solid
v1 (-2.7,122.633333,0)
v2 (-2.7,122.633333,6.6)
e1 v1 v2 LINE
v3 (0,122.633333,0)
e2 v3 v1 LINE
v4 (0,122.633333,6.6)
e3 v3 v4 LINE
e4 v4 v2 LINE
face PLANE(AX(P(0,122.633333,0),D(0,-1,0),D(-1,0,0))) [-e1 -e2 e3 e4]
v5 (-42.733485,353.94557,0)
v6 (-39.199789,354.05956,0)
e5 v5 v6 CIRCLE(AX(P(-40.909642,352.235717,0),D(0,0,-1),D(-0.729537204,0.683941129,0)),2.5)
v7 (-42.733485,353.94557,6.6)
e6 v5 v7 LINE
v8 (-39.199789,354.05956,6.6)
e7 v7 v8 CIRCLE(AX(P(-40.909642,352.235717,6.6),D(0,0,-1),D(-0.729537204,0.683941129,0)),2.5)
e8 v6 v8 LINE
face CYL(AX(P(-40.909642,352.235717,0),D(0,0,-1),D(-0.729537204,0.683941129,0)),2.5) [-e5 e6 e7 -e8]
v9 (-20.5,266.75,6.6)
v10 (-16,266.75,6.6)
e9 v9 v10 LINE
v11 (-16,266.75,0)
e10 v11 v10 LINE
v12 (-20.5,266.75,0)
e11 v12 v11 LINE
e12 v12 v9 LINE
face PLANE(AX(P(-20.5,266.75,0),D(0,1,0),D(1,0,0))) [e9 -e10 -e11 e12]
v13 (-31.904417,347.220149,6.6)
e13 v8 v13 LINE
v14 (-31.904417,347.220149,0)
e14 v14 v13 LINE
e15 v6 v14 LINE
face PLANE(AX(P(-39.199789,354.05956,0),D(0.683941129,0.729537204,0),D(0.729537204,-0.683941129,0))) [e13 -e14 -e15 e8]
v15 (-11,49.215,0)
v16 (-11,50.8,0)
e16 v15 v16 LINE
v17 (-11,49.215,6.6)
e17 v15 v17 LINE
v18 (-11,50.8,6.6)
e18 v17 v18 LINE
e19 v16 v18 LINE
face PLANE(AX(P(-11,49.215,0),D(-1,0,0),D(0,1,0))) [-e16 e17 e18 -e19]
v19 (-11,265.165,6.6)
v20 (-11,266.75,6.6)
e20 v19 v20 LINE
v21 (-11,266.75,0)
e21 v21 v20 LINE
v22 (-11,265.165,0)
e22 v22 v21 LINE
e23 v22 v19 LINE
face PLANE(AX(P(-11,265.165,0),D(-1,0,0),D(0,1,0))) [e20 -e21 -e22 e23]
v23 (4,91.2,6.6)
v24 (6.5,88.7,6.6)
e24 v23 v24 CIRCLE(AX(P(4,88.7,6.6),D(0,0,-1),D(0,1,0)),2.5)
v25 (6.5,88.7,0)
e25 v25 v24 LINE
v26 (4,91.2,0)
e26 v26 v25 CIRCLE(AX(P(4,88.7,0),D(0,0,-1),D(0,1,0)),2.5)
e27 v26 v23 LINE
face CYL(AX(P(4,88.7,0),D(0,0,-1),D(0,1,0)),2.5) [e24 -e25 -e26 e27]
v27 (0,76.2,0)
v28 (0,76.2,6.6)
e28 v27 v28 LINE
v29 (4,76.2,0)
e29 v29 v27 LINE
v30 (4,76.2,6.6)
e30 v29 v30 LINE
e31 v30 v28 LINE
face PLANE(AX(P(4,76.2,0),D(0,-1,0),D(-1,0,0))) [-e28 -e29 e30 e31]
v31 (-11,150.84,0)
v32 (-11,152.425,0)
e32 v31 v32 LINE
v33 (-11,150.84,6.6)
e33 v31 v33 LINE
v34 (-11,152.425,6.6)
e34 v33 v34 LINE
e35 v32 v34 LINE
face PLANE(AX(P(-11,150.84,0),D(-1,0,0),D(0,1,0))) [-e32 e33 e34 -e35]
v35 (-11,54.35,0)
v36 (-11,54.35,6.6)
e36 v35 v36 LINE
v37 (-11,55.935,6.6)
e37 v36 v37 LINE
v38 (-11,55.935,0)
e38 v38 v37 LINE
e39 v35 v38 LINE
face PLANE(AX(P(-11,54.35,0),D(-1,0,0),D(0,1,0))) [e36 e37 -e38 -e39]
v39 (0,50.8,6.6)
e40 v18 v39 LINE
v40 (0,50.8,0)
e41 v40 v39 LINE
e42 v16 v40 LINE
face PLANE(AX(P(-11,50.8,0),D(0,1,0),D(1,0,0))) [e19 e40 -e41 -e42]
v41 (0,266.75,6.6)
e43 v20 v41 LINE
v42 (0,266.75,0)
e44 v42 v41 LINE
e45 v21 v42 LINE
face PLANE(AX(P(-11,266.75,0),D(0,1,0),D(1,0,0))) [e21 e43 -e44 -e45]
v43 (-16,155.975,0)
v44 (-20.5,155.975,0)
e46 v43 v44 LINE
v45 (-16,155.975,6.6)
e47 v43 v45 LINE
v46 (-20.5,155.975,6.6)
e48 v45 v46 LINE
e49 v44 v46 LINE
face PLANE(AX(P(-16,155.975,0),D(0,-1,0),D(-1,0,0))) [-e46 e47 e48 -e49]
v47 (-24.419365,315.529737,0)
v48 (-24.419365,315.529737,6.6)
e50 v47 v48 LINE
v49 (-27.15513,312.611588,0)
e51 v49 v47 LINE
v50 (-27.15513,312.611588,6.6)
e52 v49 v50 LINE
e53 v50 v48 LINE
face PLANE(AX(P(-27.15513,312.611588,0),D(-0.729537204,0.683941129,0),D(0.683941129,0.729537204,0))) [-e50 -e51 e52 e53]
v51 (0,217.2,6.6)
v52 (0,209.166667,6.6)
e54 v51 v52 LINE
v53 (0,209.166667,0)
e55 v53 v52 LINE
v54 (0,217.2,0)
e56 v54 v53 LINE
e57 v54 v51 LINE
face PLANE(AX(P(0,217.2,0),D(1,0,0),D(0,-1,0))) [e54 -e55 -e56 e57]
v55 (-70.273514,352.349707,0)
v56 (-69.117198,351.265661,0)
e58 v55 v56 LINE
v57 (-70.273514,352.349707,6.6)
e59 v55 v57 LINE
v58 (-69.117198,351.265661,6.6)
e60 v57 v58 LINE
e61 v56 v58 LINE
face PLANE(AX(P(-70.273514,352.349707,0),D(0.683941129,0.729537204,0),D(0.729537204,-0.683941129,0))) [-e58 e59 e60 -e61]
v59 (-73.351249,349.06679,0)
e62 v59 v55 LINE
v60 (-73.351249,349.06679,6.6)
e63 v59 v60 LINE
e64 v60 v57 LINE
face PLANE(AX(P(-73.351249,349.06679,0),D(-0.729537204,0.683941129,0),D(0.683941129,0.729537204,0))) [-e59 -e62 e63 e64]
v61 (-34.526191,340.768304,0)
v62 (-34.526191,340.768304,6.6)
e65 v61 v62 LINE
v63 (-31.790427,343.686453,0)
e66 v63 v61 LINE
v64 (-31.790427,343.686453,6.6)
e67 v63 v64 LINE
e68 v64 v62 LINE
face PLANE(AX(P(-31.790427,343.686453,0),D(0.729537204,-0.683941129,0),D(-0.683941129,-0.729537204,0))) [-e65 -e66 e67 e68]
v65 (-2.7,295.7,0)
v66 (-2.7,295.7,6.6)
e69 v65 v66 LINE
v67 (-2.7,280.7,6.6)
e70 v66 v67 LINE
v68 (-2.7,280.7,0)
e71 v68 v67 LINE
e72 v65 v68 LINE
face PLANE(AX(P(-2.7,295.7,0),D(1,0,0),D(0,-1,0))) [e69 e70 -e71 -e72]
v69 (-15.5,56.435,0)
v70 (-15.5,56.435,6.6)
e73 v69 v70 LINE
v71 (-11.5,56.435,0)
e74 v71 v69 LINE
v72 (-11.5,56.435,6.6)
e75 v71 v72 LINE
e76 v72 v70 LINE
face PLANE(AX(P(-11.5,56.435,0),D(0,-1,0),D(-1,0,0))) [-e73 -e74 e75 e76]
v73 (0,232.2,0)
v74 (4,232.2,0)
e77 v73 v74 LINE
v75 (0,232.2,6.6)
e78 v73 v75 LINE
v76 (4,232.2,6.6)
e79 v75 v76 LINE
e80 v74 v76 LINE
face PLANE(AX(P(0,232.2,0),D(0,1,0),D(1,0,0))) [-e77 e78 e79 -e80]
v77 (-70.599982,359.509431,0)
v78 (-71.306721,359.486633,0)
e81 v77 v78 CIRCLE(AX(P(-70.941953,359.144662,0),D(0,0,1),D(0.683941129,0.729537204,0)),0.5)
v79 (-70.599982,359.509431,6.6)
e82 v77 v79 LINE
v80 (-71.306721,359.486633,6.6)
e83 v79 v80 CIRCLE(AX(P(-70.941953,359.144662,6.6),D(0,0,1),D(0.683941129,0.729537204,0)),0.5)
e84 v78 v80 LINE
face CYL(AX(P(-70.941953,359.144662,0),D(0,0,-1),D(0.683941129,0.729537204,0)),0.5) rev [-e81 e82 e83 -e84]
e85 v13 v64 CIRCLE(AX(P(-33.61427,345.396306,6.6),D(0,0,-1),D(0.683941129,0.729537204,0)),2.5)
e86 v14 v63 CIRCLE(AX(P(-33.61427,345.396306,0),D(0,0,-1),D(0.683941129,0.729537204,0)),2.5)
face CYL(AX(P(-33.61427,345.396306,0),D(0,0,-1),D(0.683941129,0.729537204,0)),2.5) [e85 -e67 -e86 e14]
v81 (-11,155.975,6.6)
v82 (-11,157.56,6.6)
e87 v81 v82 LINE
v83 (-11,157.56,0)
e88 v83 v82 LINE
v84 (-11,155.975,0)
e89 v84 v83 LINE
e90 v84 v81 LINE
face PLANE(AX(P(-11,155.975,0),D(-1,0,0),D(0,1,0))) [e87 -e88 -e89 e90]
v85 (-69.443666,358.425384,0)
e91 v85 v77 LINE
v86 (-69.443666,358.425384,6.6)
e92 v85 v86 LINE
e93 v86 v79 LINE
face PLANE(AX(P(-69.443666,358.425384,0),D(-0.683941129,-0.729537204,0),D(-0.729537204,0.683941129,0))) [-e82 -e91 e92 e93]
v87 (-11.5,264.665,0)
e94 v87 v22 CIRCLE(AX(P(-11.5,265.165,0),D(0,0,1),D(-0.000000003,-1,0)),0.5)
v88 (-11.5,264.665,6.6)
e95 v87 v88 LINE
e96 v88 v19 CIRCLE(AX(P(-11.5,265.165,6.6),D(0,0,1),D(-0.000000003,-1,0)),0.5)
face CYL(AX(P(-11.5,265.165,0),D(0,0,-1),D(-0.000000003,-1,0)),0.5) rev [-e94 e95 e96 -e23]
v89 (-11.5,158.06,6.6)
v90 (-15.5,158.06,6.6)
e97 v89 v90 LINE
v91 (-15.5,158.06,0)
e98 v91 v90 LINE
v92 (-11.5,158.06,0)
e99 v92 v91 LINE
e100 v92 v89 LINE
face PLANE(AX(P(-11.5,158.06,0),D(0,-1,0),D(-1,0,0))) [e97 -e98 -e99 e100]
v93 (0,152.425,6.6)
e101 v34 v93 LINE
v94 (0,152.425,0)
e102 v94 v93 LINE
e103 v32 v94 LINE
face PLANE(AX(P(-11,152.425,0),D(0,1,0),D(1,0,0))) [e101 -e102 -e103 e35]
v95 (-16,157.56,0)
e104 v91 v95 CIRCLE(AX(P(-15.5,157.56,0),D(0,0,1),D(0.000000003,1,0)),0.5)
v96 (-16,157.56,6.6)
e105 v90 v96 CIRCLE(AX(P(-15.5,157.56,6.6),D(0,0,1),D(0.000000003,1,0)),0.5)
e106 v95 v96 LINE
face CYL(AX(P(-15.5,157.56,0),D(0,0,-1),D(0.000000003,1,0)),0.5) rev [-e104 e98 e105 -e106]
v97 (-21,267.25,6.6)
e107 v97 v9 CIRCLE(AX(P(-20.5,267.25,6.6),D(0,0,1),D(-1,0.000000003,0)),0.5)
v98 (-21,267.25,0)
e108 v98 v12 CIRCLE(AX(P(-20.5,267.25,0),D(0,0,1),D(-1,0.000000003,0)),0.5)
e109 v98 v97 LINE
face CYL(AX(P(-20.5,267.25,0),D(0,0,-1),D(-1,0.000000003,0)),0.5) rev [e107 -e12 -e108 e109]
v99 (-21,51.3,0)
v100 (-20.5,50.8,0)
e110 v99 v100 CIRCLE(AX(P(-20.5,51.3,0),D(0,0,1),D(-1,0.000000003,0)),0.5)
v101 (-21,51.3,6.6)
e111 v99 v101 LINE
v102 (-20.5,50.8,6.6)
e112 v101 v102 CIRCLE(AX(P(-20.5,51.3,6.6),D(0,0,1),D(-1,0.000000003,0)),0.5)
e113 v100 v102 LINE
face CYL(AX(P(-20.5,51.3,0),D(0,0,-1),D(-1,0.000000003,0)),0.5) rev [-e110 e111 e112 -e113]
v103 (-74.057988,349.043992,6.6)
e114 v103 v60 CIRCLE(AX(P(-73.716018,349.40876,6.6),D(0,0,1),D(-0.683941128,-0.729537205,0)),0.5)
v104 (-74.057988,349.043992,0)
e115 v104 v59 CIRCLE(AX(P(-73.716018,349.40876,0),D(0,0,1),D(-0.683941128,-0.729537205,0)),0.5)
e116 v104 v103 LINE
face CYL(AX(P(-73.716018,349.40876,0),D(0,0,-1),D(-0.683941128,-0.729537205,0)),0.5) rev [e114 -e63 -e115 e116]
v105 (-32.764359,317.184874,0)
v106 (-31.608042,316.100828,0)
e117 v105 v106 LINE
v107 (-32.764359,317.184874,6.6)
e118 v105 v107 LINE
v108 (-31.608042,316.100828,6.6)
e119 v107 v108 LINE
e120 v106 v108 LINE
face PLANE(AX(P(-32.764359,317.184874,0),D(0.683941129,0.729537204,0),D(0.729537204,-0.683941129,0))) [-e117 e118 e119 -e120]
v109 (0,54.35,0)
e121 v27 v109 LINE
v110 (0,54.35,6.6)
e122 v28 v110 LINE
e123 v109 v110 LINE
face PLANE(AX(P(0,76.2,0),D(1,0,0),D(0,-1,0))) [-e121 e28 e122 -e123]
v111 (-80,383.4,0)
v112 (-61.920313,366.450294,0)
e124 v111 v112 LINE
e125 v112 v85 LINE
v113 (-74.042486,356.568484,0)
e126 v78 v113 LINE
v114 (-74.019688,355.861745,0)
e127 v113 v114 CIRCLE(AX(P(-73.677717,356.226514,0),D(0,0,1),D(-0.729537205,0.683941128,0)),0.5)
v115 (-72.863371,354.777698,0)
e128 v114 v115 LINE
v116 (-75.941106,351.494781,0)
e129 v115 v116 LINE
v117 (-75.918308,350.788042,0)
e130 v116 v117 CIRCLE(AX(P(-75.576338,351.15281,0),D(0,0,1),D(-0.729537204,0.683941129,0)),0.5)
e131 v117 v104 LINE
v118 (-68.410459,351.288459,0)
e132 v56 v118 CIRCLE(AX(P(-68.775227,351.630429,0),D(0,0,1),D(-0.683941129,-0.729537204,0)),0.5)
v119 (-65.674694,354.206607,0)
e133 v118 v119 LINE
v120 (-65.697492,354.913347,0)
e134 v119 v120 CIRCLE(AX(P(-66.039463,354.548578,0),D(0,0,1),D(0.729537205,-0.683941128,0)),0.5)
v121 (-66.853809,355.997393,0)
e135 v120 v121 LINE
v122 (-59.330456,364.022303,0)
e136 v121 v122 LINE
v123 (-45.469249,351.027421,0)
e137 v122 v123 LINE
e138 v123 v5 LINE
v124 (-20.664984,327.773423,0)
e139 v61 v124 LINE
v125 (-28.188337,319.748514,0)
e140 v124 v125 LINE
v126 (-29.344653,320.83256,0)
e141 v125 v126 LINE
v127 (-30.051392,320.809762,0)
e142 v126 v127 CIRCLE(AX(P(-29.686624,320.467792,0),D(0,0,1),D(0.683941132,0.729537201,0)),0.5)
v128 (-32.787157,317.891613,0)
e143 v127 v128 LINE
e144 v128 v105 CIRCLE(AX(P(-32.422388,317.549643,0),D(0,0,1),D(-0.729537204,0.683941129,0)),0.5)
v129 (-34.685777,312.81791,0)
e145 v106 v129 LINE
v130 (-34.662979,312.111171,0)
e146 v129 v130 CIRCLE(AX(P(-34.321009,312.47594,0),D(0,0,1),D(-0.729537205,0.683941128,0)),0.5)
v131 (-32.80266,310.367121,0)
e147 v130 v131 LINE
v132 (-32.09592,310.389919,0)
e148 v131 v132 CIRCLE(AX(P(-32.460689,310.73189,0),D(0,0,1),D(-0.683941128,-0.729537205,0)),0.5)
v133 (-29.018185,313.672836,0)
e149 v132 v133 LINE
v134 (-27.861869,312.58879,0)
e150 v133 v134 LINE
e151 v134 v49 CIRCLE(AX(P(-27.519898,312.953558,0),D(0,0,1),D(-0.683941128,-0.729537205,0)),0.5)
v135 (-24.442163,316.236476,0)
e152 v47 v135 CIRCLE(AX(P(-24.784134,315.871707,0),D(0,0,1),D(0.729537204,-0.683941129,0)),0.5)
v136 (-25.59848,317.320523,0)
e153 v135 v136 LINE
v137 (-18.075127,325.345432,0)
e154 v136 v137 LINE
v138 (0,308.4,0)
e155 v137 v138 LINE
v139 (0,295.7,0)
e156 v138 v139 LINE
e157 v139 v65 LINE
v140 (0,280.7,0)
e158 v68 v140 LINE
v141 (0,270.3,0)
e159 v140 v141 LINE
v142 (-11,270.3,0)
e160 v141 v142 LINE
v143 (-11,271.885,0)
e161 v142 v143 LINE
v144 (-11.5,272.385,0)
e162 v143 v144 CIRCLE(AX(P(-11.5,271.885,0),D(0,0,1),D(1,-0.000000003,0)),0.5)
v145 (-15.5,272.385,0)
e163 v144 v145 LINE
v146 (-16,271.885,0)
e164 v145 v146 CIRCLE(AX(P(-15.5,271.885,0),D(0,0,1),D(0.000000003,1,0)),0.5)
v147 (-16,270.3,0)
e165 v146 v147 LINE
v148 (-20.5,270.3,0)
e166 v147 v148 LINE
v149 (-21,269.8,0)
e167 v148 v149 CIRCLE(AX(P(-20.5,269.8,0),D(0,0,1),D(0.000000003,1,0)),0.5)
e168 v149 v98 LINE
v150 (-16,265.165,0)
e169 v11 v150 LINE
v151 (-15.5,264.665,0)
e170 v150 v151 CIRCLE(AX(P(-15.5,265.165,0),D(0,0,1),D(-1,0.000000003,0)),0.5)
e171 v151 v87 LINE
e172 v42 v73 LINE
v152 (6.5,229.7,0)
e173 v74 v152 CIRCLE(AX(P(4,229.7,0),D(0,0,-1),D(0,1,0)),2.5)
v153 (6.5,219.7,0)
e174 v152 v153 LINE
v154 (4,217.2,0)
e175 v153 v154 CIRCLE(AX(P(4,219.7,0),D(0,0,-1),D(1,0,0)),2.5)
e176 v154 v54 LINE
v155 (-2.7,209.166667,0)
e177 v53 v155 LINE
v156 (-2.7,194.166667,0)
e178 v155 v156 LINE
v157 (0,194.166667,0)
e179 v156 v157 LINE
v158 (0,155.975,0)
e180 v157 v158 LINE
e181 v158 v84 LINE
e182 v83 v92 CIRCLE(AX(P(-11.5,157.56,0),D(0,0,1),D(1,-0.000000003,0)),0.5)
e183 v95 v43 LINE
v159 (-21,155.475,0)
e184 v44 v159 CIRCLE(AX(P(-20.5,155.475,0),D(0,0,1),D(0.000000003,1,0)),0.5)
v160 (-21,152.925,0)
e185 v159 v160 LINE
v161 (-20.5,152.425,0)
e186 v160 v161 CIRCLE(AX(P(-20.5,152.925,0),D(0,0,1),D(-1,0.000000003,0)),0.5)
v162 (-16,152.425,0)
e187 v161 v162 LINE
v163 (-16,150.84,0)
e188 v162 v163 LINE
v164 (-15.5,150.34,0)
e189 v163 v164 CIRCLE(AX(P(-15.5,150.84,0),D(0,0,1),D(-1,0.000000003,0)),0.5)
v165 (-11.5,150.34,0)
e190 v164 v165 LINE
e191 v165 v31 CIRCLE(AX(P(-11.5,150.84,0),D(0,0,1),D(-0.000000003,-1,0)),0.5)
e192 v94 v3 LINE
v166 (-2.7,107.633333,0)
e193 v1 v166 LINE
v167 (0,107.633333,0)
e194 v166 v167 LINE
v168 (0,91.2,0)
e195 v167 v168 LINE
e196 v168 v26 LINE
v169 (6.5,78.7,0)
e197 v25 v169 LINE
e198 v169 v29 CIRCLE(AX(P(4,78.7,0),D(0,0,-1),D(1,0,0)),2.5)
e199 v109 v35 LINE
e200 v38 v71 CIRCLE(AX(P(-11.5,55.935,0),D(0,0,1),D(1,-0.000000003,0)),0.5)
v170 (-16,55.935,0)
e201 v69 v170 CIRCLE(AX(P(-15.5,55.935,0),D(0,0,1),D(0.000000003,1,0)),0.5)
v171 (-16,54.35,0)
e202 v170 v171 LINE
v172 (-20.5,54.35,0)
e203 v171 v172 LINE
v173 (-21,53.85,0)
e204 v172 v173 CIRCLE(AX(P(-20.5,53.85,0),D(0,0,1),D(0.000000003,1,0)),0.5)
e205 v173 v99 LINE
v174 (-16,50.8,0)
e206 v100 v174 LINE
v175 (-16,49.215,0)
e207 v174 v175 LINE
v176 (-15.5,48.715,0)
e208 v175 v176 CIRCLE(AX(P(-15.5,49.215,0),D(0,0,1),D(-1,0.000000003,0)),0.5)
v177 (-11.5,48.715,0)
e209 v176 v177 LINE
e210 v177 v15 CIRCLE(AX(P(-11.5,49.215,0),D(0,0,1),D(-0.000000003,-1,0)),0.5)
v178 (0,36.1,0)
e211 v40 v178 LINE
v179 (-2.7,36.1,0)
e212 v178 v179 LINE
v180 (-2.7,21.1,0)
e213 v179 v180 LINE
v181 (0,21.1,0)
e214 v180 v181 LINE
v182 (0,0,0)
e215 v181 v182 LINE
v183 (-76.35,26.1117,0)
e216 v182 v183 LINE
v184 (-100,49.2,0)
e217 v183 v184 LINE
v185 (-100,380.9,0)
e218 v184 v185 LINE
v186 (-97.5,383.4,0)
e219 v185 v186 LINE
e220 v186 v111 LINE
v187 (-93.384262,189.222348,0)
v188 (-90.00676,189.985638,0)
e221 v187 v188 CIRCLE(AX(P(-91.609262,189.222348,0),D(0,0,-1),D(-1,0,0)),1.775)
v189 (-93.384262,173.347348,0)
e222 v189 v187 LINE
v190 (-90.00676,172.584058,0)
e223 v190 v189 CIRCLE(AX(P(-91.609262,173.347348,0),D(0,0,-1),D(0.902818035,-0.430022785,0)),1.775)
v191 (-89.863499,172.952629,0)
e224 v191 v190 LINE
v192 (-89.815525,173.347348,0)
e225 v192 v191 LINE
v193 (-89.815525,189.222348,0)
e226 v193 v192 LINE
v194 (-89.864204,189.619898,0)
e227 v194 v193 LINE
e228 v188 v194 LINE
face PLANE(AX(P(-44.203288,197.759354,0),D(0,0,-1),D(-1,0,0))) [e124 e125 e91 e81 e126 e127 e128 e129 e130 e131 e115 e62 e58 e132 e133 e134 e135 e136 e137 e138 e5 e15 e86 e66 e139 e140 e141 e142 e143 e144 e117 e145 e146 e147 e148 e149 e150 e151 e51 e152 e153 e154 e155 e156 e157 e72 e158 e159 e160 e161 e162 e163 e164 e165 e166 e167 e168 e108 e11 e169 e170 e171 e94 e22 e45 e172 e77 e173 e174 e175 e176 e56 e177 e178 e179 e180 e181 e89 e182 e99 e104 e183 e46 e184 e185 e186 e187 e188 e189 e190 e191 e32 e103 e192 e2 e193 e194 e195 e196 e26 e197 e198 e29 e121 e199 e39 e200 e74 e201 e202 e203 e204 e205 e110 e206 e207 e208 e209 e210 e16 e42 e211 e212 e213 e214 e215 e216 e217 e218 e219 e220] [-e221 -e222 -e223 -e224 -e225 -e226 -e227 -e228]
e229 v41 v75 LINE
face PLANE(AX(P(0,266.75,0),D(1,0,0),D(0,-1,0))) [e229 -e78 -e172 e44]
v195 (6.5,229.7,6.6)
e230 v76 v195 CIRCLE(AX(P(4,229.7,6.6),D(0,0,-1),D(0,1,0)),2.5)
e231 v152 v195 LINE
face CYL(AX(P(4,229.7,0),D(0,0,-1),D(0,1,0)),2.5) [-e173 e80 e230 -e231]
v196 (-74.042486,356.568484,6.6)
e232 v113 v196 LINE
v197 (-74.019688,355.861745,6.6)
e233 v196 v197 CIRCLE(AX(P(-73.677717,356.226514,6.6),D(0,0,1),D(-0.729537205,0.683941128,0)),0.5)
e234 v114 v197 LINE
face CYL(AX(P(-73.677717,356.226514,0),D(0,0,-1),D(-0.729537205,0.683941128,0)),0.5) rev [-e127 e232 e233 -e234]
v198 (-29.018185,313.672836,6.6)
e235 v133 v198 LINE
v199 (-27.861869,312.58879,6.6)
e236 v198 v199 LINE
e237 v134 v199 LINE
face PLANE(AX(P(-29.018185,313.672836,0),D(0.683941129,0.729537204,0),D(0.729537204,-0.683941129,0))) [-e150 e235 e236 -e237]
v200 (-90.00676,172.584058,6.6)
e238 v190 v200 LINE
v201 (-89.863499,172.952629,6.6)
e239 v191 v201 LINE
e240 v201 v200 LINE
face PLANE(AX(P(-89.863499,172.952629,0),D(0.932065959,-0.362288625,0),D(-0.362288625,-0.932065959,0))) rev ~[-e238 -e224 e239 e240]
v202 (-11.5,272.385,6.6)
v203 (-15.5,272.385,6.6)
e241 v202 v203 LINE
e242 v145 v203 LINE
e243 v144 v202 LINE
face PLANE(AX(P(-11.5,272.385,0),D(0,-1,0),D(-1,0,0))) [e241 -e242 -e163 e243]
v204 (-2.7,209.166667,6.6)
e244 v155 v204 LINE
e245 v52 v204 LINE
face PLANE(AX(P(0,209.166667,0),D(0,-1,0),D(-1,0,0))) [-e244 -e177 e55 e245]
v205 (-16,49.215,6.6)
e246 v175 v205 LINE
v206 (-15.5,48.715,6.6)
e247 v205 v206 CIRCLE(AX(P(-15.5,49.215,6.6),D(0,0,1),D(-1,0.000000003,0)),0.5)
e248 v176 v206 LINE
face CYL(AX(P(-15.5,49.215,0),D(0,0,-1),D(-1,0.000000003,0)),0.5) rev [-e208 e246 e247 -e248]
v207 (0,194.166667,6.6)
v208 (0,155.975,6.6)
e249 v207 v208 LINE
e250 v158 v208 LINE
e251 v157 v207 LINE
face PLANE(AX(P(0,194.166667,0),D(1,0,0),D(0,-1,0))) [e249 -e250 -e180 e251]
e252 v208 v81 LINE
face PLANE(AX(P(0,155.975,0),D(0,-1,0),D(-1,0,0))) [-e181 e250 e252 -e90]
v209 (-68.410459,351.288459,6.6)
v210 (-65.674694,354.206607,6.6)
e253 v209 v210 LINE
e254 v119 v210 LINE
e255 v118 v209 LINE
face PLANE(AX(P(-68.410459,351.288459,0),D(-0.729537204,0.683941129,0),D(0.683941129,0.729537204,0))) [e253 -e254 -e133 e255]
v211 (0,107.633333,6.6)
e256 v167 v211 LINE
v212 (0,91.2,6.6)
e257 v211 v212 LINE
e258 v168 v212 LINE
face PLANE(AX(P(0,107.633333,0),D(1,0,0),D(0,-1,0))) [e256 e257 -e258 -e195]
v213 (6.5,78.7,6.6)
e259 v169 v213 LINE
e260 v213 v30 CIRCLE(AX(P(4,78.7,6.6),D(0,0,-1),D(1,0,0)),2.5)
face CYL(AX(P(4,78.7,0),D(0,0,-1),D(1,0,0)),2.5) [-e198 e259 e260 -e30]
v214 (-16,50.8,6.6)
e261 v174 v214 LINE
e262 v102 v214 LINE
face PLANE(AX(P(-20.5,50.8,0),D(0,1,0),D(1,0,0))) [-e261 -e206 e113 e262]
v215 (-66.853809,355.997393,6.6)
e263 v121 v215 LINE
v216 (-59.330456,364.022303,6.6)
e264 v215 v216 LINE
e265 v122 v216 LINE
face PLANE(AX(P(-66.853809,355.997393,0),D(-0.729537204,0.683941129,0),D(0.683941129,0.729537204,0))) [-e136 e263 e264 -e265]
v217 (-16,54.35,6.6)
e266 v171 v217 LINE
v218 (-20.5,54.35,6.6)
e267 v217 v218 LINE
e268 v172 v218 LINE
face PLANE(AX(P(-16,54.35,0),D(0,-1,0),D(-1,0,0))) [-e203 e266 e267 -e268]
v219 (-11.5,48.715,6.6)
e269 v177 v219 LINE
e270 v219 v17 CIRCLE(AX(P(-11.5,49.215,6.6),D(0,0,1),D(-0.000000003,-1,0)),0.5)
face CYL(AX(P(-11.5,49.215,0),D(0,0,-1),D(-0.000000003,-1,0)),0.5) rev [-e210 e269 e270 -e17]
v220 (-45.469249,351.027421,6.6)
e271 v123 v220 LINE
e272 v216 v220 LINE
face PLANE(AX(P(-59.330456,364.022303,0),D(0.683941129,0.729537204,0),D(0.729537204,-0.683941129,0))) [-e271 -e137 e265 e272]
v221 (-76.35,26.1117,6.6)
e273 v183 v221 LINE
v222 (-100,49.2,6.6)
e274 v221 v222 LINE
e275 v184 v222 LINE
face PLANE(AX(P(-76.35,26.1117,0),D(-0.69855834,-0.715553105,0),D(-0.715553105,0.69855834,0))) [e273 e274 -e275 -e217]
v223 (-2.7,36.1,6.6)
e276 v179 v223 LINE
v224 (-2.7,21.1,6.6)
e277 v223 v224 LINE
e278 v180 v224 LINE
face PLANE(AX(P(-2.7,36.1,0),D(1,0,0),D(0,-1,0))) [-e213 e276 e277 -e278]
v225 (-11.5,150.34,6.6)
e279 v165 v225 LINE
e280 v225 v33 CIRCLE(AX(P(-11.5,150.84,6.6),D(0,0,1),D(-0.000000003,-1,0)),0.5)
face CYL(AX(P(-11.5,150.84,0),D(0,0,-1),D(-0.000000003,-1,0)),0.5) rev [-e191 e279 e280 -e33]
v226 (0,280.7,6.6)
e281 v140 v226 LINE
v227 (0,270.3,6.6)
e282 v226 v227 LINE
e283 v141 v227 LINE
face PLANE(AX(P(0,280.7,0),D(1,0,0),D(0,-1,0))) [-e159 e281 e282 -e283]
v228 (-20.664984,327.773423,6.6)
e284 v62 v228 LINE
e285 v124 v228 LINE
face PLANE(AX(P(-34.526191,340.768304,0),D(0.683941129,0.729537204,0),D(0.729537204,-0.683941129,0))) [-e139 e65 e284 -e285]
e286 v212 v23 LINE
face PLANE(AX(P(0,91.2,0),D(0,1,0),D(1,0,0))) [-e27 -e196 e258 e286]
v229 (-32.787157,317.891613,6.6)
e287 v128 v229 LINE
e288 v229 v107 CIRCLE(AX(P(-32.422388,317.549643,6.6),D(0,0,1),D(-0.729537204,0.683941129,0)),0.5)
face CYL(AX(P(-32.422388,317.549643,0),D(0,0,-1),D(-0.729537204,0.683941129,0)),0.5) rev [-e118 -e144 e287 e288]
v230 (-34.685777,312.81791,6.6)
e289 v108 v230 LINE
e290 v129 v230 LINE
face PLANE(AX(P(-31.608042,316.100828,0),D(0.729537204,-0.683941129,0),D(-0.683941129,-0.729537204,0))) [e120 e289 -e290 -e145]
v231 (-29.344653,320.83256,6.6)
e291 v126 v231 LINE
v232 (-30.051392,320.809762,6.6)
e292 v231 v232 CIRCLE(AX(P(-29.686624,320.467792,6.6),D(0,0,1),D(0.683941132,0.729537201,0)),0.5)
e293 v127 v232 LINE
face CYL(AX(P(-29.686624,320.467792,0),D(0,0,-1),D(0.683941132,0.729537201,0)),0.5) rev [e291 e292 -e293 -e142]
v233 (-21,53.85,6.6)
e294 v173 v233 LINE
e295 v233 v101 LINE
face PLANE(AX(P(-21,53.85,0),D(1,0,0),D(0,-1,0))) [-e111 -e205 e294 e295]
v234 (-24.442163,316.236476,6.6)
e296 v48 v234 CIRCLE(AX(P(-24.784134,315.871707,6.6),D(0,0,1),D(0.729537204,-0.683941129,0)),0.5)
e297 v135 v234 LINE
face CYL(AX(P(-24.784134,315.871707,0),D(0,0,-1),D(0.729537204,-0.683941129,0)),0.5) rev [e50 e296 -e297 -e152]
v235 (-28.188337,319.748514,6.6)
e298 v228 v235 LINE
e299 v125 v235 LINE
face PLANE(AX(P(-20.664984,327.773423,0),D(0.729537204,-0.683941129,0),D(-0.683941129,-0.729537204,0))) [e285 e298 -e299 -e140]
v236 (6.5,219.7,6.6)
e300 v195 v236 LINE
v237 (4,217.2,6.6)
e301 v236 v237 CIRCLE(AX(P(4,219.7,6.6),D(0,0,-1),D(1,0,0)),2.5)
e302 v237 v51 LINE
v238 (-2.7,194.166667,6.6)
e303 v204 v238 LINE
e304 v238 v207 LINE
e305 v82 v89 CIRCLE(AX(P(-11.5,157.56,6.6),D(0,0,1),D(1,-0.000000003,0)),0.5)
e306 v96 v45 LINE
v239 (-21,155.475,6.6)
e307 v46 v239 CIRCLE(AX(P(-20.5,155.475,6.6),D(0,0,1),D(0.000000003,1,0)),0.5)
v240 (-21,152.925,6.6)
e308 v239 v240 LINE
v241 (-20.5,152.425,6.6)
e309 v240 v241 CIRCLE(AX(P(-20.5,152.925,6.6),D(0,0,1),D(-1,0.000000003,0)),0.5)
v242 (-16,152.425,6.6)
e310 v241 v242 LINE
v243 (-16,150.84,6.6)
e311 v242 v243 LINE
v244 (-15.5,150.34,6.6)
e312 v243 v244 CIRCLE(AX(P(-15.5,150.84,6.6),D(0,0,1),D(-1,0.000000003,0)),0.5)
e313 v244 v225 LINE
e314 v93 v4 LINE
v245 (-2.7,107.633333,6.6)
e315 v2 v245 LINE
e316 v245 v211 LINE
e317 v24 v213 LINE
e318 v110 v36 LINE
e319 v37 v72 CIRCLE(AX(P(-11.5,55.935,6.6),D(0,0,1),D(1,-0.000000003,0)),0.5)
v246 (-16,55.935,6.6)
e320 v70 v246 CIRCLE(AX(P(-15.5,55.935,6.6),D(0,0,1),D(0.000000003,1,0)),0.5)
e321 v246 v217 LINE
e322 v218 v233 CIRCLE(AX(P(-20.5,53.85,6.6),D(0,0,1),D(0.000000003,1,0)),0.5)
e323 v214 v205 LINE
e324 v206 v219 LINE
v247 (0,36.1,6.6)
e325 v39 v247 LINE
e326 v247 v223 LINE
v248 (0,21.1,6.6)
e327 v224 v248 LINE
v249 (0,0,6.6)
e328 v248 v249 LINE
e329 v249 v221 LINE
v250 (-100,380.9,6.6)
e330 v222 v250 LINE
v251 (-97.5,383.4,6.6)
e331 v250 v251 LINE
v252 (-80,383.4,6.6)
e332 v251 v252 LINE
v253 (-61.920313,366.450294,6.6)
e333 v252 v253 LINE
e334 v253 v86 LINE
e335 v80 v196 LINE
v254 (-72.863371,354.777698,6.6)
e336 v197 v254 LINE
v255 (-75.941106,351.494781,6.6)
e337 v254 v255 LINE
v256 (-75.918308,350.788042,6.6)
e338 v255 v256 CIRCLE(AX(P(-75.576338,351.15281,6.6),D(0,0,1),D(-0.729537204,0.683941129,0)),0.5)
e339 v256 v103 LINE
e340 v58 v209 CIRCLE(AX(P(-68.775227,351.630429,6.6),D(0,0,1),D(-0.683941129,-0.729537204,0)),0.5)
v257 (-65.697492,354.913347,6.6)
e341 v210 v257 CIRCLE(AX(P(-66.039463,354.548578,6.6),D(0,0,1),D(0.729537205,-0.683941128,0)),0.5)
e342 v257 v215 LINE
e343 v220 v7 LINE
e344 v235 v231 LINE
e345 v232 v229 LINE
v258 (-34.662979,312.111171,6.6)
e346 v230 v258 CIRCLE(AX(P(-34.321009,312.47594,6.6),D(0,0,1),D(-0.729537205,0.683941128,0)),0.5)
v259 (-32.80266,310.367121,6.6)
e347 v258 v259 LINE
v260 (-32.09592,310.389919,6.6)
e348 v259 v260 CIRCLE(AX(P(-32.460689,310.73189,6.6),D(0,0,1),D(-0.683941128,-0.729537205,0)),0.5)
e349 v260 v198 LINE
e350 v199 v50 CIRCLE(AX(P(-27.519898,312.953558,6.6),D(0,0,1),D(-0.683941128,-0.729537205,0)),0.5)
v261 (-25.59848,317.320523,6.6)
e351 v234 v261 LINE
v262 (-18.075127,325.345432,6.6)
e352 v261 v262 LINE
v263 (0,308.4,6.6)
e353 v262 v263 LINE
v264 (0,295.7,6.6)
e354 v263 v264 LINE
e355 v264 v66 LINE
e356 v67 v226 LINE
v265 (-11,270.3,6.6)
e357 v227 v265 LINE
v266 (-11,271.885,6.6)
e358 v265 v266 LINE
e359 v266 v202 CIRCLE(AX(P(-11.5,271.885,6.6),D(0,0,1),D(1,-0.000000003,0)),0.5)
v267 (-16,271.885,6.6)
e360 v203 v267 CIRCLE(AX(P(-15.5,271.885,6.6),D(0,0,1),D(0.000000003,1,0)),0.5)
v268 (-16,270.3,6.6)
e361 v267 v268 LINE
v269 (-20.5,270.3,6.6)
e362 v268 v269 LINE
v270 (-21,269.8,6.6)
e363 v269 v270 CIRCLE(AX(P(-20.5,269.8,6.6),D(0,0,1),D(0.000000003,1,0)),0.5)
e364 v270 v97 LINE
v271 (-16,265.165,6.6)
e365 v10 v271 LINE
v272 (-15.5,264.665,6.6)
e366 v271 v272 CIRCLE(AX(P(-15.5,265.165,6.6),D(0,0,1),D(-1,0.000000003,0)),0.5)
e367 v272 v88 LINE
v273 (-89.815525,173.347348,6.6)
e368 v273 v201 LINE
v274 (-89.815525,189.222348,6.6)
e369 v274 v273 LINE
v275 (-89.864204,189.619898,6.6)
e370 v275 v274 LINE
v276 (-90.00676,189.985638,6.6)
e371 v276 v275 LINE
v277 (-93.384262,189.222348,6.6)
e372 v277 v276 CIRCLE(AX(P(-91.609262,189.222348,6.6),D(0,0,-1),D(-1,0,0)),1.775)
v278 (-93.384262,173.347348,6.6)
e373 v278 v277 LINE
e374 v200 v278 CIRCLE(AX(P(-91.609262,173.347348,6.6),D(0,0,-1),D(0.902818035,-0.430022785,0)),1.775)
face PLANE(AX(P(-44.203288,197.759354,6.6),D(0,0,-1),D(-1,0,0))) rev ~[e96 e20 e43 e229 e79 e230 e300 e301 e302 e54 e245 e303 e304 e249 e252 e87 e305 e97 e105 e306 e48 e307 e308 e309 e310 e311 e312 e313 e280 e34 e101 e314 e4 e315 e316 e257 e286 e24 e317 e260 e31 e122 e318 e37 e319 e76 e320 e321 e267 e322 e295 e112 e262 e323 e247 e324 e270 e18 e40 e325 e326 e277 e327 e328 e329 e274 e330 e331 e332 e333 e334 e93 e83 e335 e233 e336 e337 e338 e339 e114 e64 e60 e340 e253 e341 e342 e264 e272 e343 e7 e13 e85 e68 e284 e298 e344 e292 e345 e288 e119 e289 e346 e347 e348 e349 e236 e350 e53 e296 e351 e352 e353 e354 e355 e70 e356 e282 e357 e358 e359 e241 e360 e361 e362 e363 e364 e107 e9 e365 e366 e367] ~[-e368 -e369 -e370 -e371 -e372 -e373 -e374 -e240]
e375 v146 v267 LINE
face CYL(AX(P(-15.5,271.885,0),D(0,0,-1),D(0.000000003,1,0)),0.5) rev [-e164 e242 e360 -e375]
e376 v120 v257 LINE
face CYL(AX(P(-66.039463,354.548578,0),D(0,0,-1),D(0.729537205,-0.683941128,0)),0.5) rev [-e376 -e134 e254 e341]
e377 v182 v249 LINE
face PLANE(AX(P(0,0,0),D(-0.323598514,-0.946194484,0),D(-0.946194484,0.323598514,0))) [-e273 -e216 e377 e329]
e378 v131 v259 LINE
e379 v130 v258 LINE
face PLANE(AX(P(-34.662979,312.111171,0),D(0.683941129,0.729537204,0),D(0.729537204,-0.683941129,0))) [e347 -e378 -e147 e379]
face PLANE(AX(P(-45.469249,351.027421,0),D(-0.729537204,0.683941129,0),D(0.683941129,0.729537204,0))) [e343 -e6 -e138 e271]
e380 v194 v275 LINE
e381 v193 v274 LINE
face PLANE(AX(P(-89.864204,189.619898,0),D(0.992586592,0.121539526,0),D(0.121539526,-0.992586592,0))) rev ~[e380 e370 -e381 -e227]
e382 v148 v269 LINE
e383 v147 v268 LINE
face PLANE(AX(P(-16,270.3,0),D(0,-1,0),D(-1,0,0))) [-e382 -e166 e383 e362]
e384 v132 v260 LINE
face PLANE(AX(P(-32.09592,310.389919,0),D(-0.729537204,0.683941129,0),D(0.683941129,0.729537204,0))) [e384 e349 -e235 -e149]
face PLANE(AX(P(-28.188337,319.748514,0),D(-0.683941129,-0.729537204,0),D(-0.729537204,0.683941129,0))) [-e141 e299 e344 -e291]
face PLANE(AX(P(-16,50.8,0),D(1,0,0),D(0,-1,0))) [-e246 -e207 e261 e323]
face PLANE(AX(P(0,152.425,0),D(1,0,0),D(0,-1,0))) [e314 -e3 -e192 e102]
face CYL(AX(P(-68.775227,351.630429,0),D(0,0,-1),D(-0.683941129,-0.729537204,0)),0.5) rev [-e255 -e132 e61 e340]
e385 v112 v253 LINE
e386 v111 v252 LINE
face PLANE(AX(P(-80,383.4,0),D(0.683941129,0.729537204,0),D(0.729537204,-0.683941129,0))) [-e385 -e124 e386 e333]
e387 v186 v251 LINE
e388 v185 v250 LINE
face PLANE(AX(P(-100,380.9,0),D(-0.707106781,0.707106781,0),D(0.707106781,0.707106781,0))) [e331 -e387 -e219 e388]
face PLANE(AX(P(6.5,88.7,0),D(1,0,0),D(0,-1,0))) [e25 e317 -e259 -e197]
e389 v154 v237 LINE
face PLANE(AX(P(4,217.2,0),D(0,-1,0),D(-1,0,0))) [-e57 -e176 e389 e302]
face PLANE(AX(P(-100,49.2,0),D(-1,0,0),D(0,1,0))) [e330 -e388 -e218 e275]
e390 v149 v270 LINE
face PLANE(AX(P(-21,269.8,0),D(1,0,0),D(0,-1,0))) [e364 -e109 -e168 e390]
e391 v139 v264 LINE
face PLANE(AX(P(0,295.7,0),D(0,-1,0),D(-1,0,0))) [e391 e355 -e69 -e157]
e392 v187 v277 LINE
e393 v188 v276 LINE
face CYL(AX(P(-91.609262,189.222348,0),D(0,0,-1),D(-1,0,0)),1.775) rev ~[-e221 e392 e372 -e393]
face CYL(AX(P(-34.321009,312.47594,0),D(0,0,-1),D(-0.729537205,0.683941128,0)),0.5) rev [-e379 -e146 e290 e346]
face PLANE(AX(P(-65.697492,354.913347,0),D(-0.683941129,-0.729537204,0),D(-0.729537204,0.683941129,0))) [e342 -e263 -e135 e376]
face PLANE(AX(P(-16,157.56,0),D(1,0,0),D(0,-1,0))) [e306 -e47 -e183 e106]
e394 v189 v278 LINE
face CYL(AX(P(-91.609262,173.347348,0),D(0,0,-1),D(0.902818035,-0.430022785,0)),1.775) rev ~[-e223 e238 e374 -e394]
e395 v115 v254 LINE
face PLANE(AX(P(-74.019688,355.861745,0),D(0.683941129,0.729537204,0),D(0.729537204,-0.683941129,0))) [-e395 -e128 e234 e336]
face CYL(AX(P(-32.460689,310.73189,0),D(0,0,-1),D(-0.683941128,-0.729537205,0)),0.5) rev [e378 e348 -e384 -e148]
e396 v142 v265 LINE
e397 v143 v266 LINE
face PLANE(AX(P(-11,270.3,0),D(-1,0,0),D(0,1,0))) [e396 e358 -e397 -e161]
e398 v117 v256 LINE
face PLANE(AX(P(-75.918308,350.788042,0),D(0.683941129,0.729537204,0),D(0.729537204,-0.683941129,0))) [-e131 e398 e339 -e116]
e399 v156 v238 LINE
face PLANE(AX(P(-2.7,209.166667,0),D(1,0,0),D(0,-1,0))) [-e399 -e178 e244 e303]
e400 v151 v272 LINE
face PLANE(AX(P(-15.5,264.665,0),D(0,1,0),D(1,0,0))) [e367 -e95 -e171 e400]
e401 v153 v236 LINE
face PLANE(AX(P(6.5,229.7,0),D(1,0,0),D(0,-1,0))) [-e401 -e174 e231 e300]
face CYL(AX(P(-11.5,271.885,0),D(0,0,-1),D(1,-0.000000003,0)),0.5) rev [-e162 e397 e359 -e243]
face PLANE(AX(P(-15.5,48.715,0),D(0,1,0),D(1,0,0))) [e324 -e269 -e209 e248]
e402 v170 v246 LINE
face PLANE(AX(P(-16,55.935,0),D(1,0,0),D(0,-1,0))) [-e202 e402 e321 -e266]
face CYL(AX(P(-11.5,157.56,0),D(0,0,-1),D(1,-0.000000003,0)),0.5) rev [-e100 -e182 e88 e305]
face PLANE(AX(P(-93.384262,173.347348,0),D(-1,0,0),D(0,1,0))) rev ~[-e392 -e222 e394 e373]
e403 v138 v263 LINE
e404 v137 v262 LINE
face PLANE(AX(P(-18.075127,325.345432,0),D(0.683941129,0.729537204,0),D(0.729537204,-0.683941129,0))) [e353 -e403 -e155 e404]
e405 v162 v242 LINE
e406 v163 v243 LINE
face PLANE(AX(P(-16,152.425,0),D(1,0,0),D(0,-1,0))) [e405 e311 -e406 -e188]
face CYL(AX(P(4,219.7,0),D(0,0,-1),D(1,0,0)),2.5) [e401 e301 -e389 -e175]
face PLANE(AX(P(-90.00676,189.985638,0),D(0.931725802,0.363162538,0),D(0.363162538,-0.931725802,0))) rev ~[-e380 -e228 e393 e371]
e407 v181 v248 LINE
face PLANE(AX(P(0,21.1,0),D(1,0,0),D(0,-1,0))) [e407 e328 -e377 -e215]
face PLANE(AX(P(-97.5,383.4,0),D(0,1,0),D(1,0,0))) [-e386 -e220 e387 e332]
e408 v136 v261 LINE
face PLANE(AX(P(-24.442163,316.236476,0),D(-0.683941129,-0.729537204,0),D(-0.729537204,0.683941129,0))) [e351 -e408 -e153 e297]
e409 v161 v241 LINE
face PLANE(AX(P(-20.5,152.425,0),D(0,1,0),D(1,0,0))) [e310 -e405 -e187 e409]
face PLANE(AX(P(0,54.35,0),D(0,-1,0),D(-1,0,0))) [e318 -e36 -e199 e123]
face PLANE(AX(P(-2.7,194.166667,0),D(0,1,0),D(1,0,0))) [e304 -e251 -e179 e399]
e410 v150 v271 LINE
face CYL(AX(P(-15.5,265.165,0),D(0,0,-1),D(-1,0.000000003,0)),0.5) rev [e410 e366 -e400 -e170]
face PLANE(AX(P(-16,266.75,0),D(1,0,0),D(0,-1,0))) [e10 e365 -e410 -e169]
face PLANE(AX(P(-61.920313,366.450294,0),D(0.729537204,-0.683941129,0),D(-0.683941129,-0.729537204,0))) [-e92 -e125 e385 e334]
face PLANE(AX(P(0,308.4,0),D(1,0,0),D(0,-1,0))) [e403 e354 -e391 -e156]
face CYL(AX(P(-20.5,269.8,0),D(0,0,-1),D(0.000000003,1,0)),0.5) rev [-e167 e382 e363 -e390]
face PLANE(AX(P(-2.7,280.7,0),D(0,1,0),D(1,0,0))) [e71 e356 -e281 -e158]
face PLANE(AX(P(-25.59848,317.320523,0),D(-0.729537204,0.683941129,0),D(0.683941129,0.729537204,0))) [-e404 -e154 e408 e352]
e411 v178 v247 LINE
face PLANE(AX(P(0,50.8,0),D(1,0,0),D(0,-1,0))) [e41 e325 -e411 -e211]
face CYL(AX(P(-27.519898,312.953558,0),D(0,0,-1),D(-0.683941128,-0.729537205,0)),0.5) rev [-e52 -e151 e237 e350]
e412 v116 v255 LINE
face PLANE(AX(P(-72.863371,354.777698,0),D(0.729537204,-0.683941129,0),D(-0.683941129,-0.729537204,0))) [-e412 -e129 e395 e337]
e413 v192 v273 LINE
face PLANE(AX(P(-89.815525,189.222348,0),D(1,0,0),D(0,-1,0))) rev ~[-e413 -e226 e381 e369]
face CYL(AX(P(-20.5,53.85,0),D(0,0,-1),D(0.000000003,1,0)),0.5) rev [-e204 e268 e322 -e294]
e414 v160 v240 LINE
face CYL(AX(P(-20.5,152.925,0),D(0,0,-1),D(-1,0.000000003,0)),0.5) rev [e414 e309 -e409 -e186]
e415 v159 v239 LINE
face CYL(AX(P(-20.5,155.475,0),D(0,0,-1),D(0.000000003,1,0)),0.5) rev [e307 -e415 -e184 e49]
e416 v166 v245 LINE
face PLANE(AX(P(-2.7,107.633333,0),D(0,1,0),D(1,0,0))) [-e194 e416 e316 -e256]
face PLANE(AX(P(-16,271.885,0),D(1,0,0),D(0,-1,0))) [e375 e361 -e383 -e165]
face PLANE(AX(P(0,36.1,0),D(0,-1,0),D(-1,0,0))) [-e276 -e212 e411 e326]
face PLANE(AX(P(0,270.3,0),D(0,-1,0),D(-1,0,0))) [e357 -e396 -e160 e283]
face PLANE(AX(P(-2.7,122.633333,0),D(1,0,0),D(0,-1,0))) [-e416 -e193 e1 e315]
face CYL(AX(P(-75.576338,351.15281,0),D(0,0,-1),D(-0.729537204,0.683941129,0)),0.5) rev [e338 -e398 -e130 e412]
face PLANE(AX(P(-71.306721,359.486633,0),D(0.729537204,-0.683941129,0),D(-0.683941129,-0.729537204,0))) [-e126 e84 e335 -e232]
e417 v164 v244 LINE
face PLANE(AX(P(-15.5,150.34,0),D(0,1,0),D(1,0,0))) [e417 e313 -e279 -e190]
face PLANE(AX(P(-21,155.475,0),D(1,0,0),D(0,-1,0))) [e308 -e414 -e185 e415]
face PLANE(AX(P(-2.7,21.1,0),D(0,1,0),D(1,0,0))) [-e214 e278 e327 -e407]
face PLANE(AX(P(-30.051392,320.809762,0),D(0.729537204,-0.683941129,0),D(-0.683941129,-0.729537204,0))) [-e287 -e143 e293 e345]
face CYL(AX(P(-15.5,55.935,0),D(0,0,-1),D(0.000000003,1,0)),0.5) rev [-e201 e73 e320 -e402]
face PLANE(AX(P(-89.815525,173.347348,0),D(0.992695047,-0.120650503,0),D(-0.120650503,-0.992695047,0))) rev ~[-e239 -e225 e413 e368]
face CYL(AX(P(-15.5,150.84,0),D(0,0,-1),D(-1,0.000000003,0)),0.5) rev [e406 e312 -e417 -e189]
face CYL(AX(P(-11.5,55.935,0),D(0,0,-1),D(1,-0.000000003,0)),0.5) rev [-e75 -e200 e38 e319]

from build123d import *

# Parameters (mm, degrees)
BOSS_EXTRUDE1_DEPTH = 6.6


with BuildPart() as part:
    # Model → Boss-Extrude1 (new body)
    with BuildSketch(Plane.XY):
        with BuildLine():
            Line((-2.7, 21.1), (0, 21.1))
            Line((0, 21.1), (0, 0))
            Line((0, 0), (-76.35, 26.1117))
            Line((-76.35, 26.1117), (-100, 49.2))
            Line((-100, 49.2), (-100, 380.9))
            Line((-100, 380.9), (-97.5, 383.4))
            Line((-97.5, 383.4), (-80, 383.4))
            Line((-80, 383.4), (-61.92031318, 366.450293606))
            Line((-61.92031318, 366.450293606), (-69.443665597, 358.42538436))
            Line((-69.443665597, 358.42538436), (-70.599982066, 359.50943105))
            ThreePointArc((-70.599982066, 359.50943105), (-70.958073277, 359.644402505), (-71.306721232, 359.486633012))
            Line((-71.306721232, 359.486633012), (-74.042485748, 356.568484196))
            ThreePointArc((-74.042485748, 356.568484196), (-74.177457203, 356.210392984), (-74.01968771, 355.861745029))
            Line((-74.01968771, 355.861745029), (-72.863371242, 354.77769834))
            Line((-72.863371242, 354.77769834), (-75.941106322, 351.494780921))
            ThreePointArc((-75.941106322, 351.494780921), (-76.076077777, 351.13668971), (-75.918308284, 350.788041755))
            Line((-75.918308284, 350.788041755), (-74.057988413, 349.043991876))
            ThreePointArc((-74.057988413, 349.043991876), (-73.699897202, 348.909020421), (-73.351249247, 349.066789913))
            Line((-73.351249247, 349.066789913), (-70.273514167, 352.349707332))
            Line((-70.273514167, 352.349707332), (-69.117197698, 351.265660643))
            ThreePointArc((-69.117197698, 351.265660643), (-68.759106487, 351.130689188), (-68.410458532, 351.288458681))
            Line((-68.410458532, 351.288458681), (-65.674694016, 354.206607497))
            ThreePointArc((-65.674694016, 354.206607497), (-65.539722561, 354.564698709), (-65.697492054, 354.913346664))
            Line((-65.697492054, 354.913346664), (-66.853808523, 355.997393353))
            Line((-66.853808523, 355.997393353), (-59.330456105, 364.022302598))
            Line((-59.330456105, 364.022302598), (-45.469249226, 351.02742115))
            Line((-45.469249226, 351.02742115), (-42.733484711, 353.945569966))
            ThreePointArc((-42.733484711, 353.945569966), (-40.990244935, 354.73441743), (-39.199788878, 354.059560154))
            Line((-39.199788878, 354.059560154), (-31.904416837, 347.220148866))
            ThreePointArc((-31.904416837, 347.220148866), (-31.115569373, 345.47690909), (-31.790426649, 343.686453033))
            Line((-31.790426649, 343.686453033), (-34.526191164, 340.768304216))
            Line((-34.526191164, 340.768304216), (-20.664984286, 327.773422768))
            Line((-20.664984286, 327.773422768), (-28.188336703, 319.748513522))
            Line((-28.188336703, 319.748513522), (-29.344653172, 320.832560211))
            ThreePointArc((-29.344653172, 320.832560211), (-29.702744383, 320.967531667), (-30.051392338, 320.809762174))
            Line((-30.051392338, 320.809762174), (-32.787156854, 317.891613357))
            ThreePointArc((-32.787156854, 317.891613357), (-32.922128309, 317.533522146), (-32.764358816, 317.184874191))
            Line((-32.764358816, 317.184874191), (-31.608042348, 316.100827502))
            Line((-31.608042348, 316.100827502), (-34.685777428, 312.817910083))
            ThreePointArc((-34.685777428, 312.817910083), (-34.820748883, 312.459818871), (-34.66297939, 312.111170916))
            Line((-34.66297939, 312.111170916), (-32.802659519, 310.367121038))
            ThreePointArc((-32.802659519, 310.367121038), (-32.444568308, 310.232149583), (-32.095920353, 310.389919075))
            Line((-32.095920353, 310.389919075), (-29.018185273, 313.672836494))
            Line((-29.018185273, 313.672836494), (-27.861868804, 312.588789805))
            ThreePointArc((-27.861868804, 312.588789805), (-27.503777593, 312.45381835), (-27.155129638, 312.611587842))
            Line((-27.155129638, 312.611587842), (-24.419365122, 315.529736659))
            ThreePointArc((-24.419365122, 315.529736659), (-24.284393667, 315.88782787), (-24.44216316, 316.236475825))
            Line((-24.44216316, 316.236475825), (-25.598479629, 317.320522515))
            Line((-25.598479629, 317.320522515), (-18.075127211, 325.34543176))
            Line((-18.075127211, 325.34543176), (0, 308.4))
            Line((0, 308.4), (0, 295.7))
            Line((0, 295.7), (-2.7, 295.7))
            Line((-2.7, 295.7), (-2.7, 280.7))
            Line((-2.7, 280.7), (0, 280.7))
            Line((0, 280.7), (0, 270.3))
            Line((0, 270.3), (-11, 270.3))
            Line((-11, 270.3), (-11, 271.885))
            ThreePointArc((-11, 271.885), (-11.146446609, 272.238553391), (-11.5, 272.385))
            Line((-11.5, 272.385), (-15.5, 272.385))
            ThreePointArc((-15.5, 272.385), (-15.853553391, 272.238553391), (-16, 271.885))
            Line((-16, 271.885), (-16, 270.3))
            Line((-16, 270.3), (-20.5, 270.3))
            ThreePointArc((-20.5, 270.3), (-20.853553391, 270.153553391), (-21, 269.8))
            Line((-21, 269.8), (-21, 267.25))
            ThreePointArc((-21, 267.25), (-20.853553391, 266.896446609), (-20.5, 266.75))
            Line((-20.5, 266.75), (-16, 266.75))
            Line((-16, 266.75), (-16, 265.165))
            ThreePointArc((-16, 265.165), (-15.853553391, 264.811446609), (-15.5, 264.665))
            Line((-15.5, 264.665), (-11.5, 264.665))
            ThreePointArc((-11.5, 264.665), (-11.146446609, 264.811446609), (-11, 265.165))
            Line((-11, 265.165), (-11, 266.75))
            Line((-11, 266.75), (0, 266.75))
            Line((0, 266.75), (0, 232.2))
            Line((0, 232.2), (4, 232.2))
            ThreePointArc((4, 232.2), (5.767766953, 231.467766953), (6.5, 229.7))
            Line((6.5, 229.7), (6.5, 219.7))
            ThreePointArc((6.5, 219.7), (5.767766953, 217.932233047), (4, 217.2))
            Line((4, 217.2), (0, 217.2))
            Line((0, 217.2), (0, 209.166666667))
            Line((0, 209.166666667), (-2.7, 209.166666667))
            Line((-2.7, 209.166666667), (-2.7, 194.166666667))
            Line((-2.7, 194.166666667), (0, 194.166666667))
            Line((0, 194.166666667), (0, 155.975))
            Line((0, 155.975), (-11, 155.975))
            Line((-11, 155.975), (-11, 157.56))
            ThreePointArc((-11, 157.56), (-11.146446609, 157.913553391), (-11.5, 158.06))
            Line((-11.5, 158.06), (-15.5, 158.06))
            ThreePointArc((-15.5, 158.06), (-15.853553391, 157.913553391), (-16, 157.56))
            Line((-16, 157.56), (-16, 155.975))
            Line((-16, 155.975), (-20.5, 155.975))
            ThreePointArc((-20.5, 155.975), (-20.853553391, 155.828553391), (-21, 155.475))
            Line((-21, 155.475), (-21, 152.925))
            ThreePointArc((-21, 152.925), (-20.853553391, 152.571446609), (-20.5, 152.425))
            Line((-20.5, 152.425), (-16, 152.425))
            Line((-16, 152.425), (-16, 150.84))
            ThreePointArc((-16, 150.84), (-15.853553391, 150.486446609), (-15.5, 150.34))
            Line((-15.5, 150.34), (-11.5, 150.34))
            ThreePointArc((-11.5, 150.34), (-11.146446609, 150.486446609), (-11, 150.84))
            Line((-11, 150.84), (-11, 152.425))
            Line((-11, 152.425), (0, 152.425))
            Line((0, 152.425), (0, 122.633333333))
            Line((0, 122.633333333), (-2.7, 122.633333333))
            Line((-2.7, 122.633333333), (-2.7, 107.633333333))
            Line((-2.7, 107.633333333), (0, 107.633333333))
            Line((0, 107.633333333), (0, 91.2))
            Line((0, 91.2), (4, 91.2))
            ThreePointArc((4, 91.2), (5.767766953, 90.467766953), (6.5, 88.7))
            Line((6.5, 88.7), (6.5, 78.7))
            ThreePointArc((6.5, 78.7), (5.767766953, 76.932233047), (4, 76.2))
            Line((4, 76.2), (0, 76.2))
            Line((0, 76.2), (0, 54.35))
            Line((0, 54.35), (-11, 54.35))
            Line((-11, 54.35), (-11, 55.935))
            ThreePointArc((-11, 55.935), (-11.146446609, 56.288553391), (-11.5, 56.435))
            Line((-11.5, 56.435), (-15.5, 56.435))
            ThreePointArc((-15.5, 56.435), (-15.853553391, 56.288553391), (-16, 55.935))
            Line((-16, 55.935), (-16, 54.35))
            Line((-16, 54.35), (-20.5, 54.35))
            ThreePointArc((-20.5, 54.35), (-20.853553391, 54.203553391), (-21, 53.85))
            Line((-21, 53.85), (-21, 51.3))
            ThreePointArc((-21, 51.3), (-20.853553391, 50.946446609), (-20.5, 50.8))
            Line((-20.5, 50.8), (-16, 50.8))
            Line((-16, 50.8), (-16, 49.215))
            ThreePointArc((-16, 49.215), (-15.853553391, 48.861446609), (-15.5, 48.715))
            Line((-15.5, 48.715), (-11.5, 48.715))
            ThreePointArc((-11.5, 48.715), (-11.146446609, 48.861446609), (-11, 49.215))
            Line((-11, 49.215), (-11, 50.8))
            Line((-11, 50.8), (0, 50.8))
            Line((0, 50.8), (0, 36.1))
            Line((0, 36.1), (-2.7, 36.1))
            Line((-2.7, 36.1), (-2.7, 21.1))
        make_face()
        with BuildLine():
            Line((-89.8155254, 173.347348004), (-89.86349893, 172.952628674))
            Line((-89.86349893, 172.952628674), (-90.006760381, 172.584057561))
            ThreePointArc((-90.006760381, 172.584057561), (-92.000532075, 171.616009494), (-93.384262393, 173.347348004))
            Line((-93.384262393, 173.347348004), (-93.384262393, 189.222348004))
            ThreePointArc((-93.384262393, 189.222348004), (-92.000532075, 190.953686513), (-90.006760381, 189.985638446))
            Line((-90.006760381, 189.985638446), (-89.864204346, 189.619898255))
            Line((-89.864204346, 189.619898255), (-89.8155254, 189.222348004))
            Line((-89.8155254, 189.222348004), (-89.8155254, 173.347348004))
        make_face(mode=Mode.SUBTRACT)
    extrude(amount=BOSS_EXTRUDE1_DEPTH)


solid = part.part
